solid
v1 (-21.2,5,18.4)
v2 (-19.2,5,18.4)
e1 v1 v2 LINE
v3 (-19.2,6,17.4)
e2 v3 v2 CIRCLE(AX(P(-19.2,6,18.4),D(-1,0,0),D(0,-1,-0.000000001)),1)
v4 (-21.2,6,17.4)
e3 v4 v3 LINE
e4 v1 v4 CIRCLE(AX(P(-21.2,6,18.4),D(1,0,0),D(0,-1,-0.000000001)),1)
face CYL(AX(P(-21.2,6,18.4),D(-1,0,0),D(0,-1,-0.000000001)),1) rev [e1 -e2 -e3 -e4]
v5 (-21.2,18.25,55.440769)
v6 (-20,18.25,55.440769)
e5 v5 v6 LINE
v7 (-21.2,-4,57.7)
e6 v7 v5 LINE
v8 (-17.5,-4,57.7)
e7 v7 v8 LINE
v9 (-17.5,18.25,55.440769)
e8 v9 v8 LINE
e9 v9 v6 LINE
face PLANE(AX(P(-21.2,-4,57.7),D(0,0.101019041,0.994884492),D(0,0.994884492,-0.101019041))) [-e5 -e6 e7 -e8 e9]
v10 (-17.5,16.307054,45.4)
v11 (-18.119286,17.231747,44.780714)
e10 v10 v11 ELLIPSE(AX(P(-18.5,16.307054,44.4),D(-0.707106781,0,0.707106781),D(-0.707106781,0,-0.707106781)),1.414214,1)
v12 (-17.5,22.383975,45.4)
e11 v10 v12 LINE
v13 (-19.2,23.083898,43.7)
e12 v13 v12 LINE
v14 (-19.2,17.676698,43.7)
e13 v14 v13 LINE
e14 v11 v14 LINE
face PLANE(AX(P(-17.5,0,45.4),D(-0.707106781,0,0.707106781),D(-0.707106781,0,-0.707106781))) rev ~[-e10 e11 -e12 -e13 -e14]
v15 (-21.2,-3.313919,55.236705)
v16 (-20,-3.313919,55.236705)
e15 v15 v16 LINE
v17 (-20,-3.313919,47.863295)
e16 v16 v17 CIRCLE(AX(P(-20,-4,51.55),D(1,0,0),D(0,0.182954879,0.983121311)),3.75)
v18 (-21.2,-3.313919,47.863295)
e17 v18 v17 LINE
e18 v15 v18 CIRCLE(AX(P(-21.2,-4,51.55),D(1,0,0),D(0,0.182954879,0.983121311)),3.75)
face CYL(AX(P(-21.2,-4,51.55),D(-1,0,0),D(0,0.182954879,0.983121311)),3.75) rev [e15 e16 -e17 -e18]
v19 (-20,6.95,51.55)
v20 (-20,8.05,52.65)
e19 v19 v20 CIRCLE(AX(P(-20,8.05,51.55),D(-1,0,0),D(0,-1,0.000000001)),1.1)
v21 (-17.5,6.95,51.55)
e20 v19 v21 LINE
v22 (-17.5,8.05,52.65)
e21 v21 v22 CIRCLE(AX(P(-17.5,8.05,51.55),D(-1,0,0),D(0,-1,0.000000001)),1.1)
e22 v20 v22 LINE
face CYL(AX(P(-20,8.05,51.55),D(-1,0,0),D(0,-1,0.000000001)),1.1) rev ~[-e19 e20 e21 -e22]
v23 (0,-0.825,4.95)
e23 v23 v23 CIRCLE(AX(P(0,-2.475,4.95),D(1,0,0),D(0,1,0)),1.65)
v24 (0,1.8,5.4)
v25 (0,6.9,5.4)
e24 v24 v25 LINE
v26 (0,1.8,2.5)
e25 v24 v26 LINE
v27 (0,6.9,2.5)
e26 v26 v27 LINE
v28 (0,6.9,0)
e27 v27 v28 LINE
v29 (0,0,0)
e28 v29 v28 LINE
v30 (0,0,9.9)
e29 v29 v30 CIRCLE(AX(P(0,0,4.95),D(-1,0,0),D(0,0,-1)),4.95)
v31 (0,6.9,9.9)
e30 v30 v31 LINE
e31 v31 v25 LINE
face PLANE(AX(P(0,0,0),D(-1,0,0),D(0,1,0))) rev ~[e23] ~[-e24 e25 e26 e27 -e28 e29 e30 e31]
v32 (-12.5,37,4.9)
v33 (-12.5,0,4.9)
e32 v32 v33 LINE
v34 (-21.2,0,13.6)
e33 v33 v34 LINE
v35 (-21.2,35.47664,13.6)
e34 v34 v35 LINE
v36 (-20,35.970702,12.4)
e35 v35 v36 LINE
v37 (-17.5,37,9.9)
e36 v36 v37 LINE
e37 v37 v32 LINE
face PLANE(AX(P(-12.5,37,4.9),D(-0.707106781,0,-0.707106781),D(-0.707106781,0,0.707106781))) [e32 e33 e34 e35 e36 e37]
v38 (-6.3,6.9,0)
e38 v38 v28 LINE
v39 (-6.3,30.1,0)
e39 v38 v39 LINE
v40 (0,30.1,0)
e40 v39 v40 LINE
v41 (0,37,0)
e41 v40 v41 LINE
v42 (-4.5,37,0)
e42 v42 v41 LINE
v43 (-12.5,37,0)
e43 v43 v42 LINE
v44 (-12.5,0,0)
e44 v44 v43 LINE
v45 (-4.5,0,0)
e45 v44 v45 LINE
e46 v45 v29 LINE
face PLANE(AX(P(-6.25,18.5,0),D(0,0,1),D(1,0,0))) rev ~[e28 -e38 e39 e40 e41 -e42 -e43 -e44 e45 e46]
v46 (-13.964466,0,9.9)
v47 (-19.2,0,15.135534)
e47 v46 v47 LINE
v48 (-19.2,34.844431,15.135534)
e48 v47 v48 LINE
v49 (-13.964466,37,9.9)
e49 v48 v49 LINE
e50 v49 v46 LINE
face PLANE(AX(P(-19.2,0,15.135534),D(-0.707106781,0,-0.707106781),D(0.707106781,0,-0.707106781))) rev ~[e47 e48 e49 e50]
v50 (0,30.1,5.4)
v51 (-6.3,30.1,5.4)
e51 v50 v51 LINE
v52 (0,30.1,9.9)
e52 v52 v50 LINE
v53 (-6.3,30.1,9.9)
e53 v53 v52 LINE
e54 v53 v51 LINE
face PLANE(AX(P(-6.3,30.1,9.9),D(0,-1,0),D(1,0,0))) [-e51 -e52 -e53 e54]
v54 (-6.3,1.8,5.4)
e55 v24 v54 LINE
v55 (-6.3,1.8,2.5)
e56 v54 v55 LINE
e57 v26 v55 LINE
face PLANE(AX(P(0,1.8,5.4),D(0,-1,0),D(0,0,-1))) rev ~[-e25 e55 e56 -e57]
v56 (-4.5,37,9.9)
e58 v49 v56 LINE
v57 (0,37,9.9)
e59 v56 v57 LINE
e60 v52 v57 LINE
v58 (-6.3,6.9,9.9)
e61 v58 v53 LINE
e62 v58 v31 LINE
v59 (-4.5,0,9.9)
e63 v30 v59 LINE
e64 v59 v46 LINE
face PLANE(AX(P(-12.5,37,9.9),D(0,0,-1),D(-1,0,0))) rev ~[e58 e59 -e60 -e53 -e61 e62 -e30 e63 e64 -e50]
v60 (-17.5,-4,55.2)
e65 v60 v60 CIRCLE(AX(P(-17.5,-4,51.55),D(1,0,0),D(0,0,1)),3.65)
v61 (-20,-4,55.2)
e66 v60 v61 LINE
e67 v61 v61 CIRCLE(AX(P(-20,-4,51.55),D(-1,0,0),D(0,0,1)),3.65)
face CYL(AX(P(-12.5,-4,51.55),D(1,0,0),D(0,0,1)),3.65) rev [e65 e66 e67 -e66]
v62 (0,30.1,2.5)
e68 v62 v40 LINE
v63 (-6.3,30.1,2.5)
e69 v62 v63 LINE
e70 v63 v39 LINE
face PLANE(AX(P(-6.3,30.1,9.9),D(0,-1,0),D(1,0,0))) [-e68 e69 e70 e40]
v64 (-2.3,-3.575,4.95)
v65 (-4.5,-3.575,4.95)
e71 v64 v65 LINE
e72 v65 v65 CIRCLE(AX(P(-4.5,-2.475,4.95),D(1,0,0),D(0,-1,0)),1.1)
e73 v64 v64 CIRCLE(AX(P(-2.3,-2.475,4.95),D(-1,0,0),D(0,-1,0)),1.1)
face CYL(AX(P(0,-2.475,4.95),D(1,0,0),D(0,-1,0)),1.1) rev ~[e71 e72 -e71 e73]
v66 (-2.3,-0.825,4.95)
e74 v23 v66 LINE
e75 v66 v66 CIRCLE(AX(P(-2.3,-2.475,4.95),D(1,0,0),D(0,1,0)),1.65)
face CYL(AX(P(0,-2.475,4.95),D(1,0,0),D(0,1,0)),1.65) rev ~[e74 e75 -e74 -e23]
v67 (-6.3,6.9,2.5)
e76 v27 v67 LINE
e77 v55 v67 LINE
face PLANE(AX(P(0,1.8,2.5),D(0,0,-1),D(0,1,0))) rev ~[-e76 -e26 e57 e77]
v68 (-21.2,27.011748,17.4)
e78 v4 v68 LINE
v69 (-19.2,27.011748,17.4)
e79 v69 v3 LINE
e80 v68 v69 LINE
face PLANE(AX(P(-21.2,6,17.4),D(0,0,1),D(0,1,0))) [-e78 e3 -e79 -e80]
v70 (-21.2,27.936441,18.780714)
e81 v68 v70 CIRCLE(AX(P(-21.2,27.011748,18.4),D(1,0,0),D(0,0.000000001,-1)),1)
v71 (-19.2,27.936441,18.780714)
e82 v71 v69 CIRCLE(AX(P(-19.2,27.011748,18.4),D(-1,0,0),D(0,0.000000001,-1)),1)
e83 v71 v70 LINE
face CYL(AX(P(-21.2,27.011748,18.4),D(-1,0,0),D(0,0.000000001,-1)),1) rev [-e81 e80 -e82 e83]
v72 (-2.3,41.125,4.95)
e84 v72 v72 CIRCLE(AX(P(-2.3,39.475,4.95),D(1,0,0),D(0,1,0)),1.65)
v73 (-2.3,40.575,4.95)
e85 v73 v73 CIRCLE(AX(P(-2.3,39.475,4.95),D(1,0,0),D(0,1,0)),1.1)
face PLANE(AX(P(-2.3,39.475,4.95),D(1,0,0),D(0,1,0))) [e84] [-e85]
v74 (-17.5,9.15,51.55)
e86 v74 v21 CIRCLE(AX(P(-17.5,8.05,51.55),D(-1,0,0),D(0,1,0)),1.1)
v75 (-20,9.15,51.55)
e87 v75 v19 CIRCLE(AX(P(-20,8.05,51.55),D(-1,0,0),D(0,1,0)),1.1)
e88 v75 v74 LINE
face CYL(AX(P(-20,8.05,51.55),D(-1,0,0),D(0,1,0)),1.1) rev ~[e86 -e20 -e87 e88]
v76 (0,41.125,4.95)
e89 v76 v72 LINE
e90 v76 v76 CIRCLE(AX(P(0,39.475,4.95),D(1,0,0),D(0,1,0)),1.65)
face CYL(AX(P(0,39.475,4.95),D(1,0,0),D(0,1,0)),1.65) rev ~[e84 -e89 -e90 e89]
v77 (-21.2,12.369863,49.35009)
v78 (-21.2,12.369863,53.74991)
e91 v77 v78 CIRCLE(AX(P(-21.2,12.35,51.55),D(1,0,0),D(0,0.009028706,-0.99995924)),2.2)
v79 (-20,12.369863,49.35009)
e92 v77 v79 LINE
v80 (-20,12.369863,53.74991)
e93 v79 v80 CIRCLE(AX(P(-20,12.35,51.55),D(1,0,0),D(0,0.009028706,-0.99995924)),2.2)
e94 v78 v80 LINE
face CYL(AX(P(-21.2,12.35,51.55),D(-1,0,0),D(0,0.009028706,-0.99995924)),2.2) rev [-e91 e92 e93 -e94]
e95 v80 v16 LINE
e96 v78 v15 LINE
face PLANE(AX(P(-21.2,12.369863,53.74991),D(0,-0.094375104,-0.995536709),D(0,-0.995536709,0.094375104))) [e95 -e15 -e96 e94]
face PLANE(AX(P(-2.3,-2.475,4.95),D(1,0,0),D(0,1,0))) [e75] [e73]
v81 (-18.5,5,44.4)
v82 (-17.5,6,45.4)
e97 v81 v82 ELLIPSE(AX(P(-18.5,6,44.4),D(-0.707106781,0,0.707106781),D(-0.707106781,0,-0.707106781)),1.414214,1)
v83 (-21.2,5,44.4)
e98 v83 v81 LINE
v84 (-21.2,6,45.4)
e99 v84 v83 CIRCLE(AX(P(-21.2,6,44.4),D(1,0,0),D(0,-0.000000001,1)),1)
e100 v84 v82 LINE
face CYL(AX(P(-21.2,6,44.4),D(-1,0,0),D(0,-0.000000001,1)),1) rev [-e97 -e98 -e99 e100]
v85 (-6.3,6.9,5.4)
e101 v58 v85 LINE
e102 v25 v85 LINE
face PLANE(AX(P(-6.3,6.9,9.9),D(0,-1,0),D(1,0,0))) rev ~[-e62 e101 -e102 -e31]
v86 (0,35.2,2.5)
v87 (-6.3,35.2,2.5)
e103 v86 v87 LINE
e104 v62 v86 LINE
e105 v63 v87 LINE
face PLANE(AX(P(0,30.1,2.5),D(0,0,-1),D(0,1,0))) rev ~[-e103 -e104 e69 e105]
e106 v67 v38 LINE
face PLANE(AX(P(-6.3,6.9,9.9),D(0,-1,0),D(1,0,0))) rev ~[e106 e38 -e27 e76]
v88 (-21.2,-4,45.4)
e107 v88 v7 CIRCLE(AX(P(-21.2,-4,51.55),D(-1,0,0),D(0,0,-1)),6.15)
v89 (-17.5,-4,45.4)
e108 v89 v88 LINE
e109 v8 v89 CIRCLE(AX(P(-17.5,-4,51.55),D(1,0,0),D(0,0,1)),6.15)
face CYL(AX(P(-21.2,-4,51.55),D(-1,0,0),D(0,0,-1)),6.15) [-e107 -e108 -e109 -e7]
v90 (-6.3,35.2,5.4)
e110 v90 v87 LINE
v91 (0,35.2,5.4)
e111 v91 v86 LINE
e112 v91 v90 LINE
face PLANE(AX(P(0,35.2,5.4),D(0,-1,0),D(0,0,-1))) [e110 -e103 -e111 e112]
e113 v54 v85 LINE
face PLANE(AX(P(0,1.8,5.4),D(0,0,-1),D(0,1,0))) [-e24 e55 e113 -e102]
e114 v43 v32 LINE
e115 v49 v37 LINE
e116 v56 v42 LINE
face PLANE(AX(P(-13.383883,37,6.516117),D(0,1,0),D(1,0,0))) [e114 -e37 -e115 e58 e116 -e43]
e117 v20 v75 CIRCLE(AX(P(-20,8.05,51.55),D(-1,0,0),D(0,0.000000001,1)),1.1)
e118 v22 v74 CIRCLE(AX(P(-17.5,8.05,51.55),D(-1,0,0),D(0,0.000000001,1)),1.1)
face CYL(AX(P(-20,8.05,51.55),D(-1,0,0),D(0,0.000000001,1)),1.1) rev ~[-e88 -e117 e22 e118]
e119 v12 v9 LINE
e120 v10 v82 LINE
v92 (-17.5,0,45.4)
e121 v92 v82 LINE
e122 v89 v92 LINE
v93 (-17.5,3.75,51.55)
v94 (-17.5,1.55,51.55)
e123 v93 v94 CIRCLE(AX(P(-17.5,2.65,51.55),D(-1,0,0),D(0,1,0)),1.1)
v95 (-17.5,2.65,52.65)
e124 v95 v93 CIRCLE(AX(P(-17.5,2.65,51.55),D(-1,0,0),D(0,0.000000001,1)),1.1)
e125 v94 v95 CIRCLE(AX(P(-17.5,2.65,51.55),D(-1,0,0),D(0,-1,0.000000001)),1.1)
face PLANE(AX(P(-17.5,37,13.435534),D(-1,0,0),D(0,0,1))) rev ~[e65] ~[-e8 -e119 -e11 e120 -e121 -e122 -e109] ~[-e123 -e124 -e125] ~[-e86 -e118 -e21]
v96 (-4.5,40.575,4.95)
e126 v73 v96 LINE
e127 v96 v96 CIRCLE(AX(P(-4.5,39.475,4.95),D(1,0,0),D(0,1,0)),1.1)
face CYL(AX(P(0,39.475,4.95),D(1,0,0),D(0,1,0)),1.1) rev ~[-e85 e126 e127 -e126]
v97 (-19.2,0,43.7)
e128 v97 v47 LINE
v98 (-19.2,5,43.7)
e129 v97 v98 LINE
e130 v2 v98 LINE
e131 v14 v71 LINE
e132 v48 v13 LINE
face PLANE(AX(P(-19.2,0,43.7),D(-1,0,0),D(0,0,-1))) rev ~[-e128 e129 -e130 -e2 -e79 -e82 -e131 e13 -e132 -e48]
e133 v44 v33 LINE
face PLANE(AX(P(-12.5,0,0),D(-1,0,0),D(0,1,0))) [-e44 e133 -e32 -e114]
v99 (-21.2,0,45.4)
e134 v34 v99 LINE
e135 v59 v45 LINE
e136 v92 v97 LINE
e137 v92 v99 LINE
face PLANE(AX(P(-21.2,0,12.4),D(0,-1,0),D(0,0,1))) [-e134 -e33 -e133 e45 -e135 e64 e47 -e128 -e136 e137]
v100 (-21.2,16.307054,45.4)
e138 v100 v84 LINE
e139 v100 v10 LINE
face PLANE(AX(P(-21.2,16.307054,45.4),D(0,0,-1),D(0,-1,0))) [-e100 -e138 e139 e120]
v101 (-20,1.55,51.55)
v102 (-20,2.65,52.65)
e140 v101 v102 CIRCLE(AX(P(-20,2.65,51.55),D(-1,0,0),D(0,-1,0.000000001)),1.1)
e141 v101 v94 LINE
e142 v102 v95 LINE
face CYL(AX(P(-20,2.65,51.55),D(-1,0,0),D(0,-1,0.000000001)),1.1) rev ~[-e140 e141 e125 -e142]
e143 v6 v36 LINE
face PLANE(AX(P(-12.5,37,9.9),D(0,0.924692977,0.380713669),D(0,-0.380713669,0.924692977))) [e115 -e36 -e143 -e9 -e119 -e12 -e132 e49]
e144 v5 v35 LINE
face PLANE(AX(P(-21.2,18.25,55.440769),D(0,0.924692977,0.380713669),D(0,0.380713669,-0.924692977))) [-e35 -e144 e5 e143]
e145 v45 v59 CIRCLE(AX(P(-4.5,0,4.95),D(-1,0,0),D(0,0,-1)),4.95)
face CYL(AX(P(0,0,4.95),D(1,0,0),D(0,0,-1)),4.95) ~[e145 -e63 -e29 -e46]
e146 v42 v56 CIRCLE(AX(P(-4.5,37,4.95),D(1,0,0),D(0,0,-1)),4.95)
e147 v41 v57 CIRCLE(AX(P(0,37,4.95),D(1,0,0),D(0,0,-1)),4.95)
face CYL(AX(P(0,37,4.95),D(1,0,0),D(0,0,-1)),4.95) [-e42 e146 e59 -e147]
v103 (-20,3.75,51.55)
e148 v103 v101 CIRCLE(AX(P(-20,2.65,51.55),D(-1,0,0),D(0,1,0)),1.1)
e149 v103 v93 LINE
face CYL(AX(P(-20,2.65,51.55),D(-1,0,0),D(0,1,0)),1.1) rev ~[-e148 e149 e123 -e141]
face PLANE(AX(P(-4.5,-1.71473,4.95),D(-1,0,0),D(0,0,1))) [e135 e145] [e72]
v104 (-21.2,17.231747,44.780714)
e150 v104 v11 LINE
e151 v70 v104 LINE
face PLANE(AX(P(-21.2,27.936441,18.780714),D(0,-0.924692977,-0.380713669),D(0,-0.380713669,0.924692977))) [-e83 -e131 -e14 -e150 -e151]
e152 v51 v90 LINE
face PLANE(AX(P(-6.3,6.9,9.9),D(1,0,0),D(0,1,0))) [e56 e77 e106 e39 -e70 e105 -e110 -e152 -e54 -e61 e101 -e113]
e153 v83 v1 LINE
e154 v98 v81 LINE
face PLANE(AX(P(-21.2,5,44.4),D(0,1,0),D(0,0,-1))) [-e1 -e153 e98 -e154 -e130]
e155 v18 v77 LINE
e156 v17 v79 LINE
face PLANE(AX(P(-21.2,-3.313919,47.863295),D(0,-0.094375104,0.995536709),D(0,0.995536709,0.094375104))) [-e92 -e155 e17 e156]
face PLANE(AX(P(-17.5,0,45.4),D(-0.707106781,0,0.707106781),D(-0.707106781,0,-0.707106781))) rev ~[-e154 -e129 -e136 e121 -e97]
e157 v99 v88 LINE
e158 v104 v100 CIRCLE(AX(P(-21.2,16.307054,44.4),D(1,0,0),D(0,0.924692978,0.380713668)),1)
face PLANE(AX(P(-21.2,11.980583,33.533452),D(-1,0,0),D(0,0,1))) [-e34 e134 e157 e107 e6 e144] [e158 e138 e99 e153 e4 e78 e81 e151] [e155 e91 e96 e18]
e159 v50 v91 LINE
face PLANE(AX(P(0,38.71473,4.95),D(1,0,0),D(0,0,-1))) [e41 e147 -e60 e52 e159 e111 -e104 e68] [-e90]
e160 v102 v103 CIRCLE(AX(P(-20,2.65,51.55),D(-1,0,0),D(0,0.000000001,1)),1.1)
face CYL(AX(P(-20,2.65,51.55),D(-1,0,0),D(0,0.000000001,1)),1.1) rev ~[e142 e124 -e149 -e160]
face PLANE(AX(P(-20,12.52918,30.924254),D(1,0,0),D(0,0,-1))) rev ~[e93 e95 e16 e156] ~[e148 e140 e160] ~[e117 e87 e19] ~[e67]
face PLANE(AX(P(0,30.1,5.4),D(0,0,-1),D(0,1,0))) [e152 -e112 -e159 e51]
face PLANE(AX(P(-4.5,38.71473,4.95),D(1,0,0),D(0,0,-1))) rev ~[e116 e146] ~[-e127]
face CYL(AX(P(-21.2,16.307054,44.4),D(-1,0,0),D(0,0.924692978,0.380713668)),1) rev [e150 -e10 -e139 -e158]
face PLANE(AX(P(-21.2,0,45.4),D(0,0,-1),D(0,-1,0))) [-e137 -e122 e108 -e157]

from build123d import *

# Parameters (mm, degrees)
SZKIC1_W                    = 12.5
SZKIC1_H                    = 37
DODANIE_WYCI_GNI_CIE1_DEPTH = 9.9
SZKIC2_W                    = 6.3
SZKIC2_H                    = 23.2
WYTNIJ_WYCI_GNI_CIE1_DEPTH  = 9.9
SZKIC3_R                    = 2
SZKIC3_R_2                  = 3.65
DODANIE_WYCI_GNI_CIE2_DEPTH = 7.5
WYTNIJ_WYCI_GNI_CIE2_DEPTH  = 78.151879433
WYTNIJ_WYCI_GNI_CIE3_DEPTH  = 72.402310887
ESQUISSE2_W                 = 2.9
ESQUISSE2_H                 = 5.1
ENL_V_MAT_EXTRU_1_DEPTH     = 6.3
BOSS_EXTRU_2_START          = -2.5
ESQUISSE5_R                 = 3.65
BOSS_EXTRU_2_DEPTH          = 2.5
BOSS_EXTRU_3_DEPTH          = 37
ESQUISSE7_R                 = 1.1
BOSS_EXTRU_4_DEPTH          = 4.5
ESQUISSE8_R                 = 1.65
ESQUISSE8_R_2               = 1.1
ENL_V_MAT_EXTRU_2_DEPTH     = 2.3
BOSS_EXTRU_7_START          = 1.2
BOSS_EXTRU_7_DEPTH          = 1.2
ENL_V_MAT_EXTRU_3_DEPTH     = 75.421317511
ENL_V_MAT_EXTRU_4_DEPTH     = 75.088410025


with BuildPart() as part:
    # Szkic1 → Dodanie-wyciągnięcie1 (new body)
    with BuildSketch(Plane.XY):
        with Locations((-6.25, 18.5)):
            Rectangle(SZKIC1_W, SZKIC1_H)
    extrude(amount=DODANIE_WYCI_GNI_CIE1_DEPTH)

    # Szkic2 → Wytnij-wyciągnięcie1 (cut)
    with BuildSketch(Plane.XY.offset(9.9)):
        with Locations((-3.15, 18.5)):
            Rectangle(SZKIC2_W, SZKIC2_H)
    extrude(amount=-WYTNIJ_WYCI_GNI_CIE1_DEPTH, mode=Mode.SUBTRACT)

    # Szkic3 → Dodanie-wyciągnięcie2 (add)
    with BuildSketch(Plane.ZY.offset(12.5)):
        with BuildLine():
            Line((55.440769231, 18.25), (57.7, -4))
            ThreePointArc((57.7, -4), (51.55, -10.15), (45.4, -4))
            Line((45.4, -4), (45.4, 0))
            Line((45.4, 0), (7.4, 0))
            Line((7.4, 0), (7.4, 37))
            Line((7.4, 37), (9.9, 37))
            Line((9.9, 37), (55.440769231, 18.25))
        make_face()
        with Locations((51.55, 12.25)):
            Circle(SZKIC3_R, mode=Mode.SUBTRACT)
        with Locations((51.55, -4)):
            Circle(SZKIC3_R_2, mode=Mode.SUBTRACT)
    extrude(amount=DODANIE_WYCI_GNI_CIE2_DEPTH)

    # Szkic4 → Wytnij-wyciągnięcie2 (cut, through all)
    with BuildSketch(Plane(origin=(0, 37, 0), x_dir=(1, 0, 0), z_dir=(0, 1, 0))):
        Polygon((-17.5, -9.9), (-15, -7.4), (-20, -7.4), (-20, -9.9), align=None)
        Polygon((-20, -12.4), (-17.5, -9.9), (-20, -9.9), align=None)
        Polygon((-12.5, -9.9), (-13.964466094, -9.9), (-17.5, -13.435533906), (-17.5, -57.7), (-12.5, -57.7), (-12.5, -55.440769231), align=None)
    extrude(amount=-WYTNIJ_WYCI_GNI_CIE2_DEPTH, mode=Mode.SUBTRACT)

    # Szkic5 → Wytnij-wyciągnięcie3 (cut, through all)
    with BuildSketch(Plane.ZY.offset(20)):
        with BuildLine():
            Line((45.4, 16.307054303), (45.4, 6))
            ThreePointArc((45.4, 6), (45.107106781, 5.292893219), (44.4, 5))
            Line((44.4, 5), (18.4, 5))
            ThreePointArc((18.4, 5), (17.692893219, 5.292893219), (17.4, 6))
            Line((17.4, 6), (17.4, 27.011748322))
            ThreePointArc((17.4, 27.011748322), (17.843544103, 27.842625469), (18.780713669, 27.936441299))
            Line((18.780713669, 27.936441299), (44.780713669, 17.23174728))
            ThreePointArc((44.780713669, 17.23174728), (45.230877148, 16.8635102), (45.4, 16.307054303))
        make_face()
    extrude(amount=-WYTNIJ_WYCI_GNI_CIE3_DEPTH, mode=Mode.SUBTRACT)

    # Esquisse2 → Enlèv. mat.-Extru.1 (cut)
    with BuildSketch(Plane(origin=(0, 0, 0), x_dir=(0, 0, -1), z_dir=(1, 0, 0))):
        with Locations((-3.95, 32.65)):
            Rectangle(ESQUISSE2_W, ESQUISSE2_H)
        with Locations((-3.95, 4.35)):
            Rectangle(ESQUISSE2_W, ESQUISSE2_H)
    extrude(amount=-ENL_V_MAT_EXTRU_1_DEPTH, mode=Mode.SUBTRACT)

    # Esquisse5 → Boss.-Extru.2 (add)
    with BuildSketch(Plane(origin=(-17.5, 0, 0), x_dir=(0, 0, -1), z_dir=(1, 0, 0)).offset(BOSS_EXTRU_2_START)):
        with BuildLine():
            Line((-13.435533906, 0), (-13.435533906, 35.544353513))
            Line((-13.435533906, 35.544353513), (-55.440769231, 18.25))
            Line((-55.440769231, 18.25), (-57.7, -4))
            ThreePointArc((-57.7, -4), (-51.55, -10.15), (-45.4, -4))
            Line((-45.4, -4), (-45.4, 0))
            Line((-45.4, 0), (-13.435533906, 0))
        make_face()
        with Locations(Location((-51.55, -4, 0), (0, 0, 180))):
            Circle(ESQUISSE5_R, mode=Mode.SUBTRACT)
        with BuildLine():
            Line((-17.4, 6), (-17.4, 27.011748322))
            ThreePointArc((-17.4, 27.011748322), (-17.843544103, 27.842625469), (-18.780713669, 27.936441299))
            Line((-18.780713669, 27.936441299), (-44.780713669, 17.23174728))
            ThreePointArc((-44.780713669, 17.23174728), (-45.230877148, 16.8635102), (-45.4, 16.307054303))
            Line((-45.4, 16.307054303), (-45.4, 6))
            ThreePointArc((-45.4, 6), (-45.107106781, 5.292893219), (-44.4, 5))
            Line((-44.4, 5), (-18.4, 5))
            ThreePointArc((-18.4, 5), (-17.692893219, 5.292893219), (-17.4, 6))
        make_face(mode=Mode.SUBTRACT)
    extrude(amount=BOSS_EXTRU_2_DEPTH)

    # Esquisse6 → Boss.-Extru.3 (add)
    with BuildSketch(Plane(origin=(0, 37, 0), x_dir=(1, 0, 0), z_dir=(0, 1, 0))):
        Polygon((-12.5, -4.9), (-15, -7.4), (-12.5, -7.4), align=None)
    extrude(amount=-BOSS_EXTRU_3_DEPTH)

    # Esquisse7 → Boss.-Extru.4 (add)
    # profile 1 of 2: a face of its own
    with BuildSketch(Plane(origin=(0, 0, 0), x_dir=(0, 0, -1), z_dir=(1, 0, 0))):
        with BuildLine():
            Line((-9.9, 37), (0, 37))
            ThreePointArc((0, 37), (-4.95, 41.95), (-9.9, 37))
        make_face()
        with Locations(Location((-4.95, 39.475, 0), (0, 0, 90))):
            Circle(ESQUISSE7_R, mode=Mode.SUBTRACT)
    # profile 2 of 2: a face of its own
    with BuildSketch(Plane(origin=(0, 0, 0), x_dir=(0, 0, -1), z_dir=(1, 0, 0))):
        with BuildLine():
            Line((-9.9, 0), (0, 0))
            ThreePointArc((0, 0), (-4.95, -4.95), (-9.9, 0))
        make_face()
        with Locations(Location((-4.95, -2.475, 0), (0, 0, 270))):
            Circle(ESQUISSE7_R, mode=Mode.SUBTRACT)
    extrude(amount=-BOSS_EXTRU_4_DEPTH)

    # Esquisse8 → Enlèv. mat.-Extru.2 (cut)
    # profile 1 of 2: a face of its own
    with BuildSketch(Plane(origin=(0, 0, 0), x_dir=(0, 0, -1), z_dir=(1, 0, 0))):
        with Locations(Location((-4.95, 39.475, 0), (0, 0, 90))):
            Circle(ESQUISSE8_R)
        with Locations(Location((-4.95, 39.475, 0), (0, 0, 90))):
            Circle(ESQUISSE8_R_2, mode=Mode.SUBTRACT)
    # profile 2 of 2: a face of its own
    with BuildSketch(Plane(origin=(0, 0, 0), x_dir=(0, 0, -1), z_dir=(1, 0, 0))):
        with Locations(Location((-4.95, -2.475, 0), (0, 0, 90))):
            Circle(ESQUISSE8_R)
        with Locations(Location((-4.95, -2.475, 0), (0, 0, 90))):
            Circle(ESQUISSE8_R_2, mode=Mode.SUBTRACT)
    extrude(amount=-ENL_V_MAT_EXTRU_2_DEPTH, mode=Mode.SUBTRACT)

    # Esquisse9 → Boss.-Extru.7 (add)
    with BuildSketch(Plane.ZY.offset(20).offset(BOSS_EXTRU_7_START)):
        with BuildLine():
            Line((12.4, 35.970702498), (12.4, 0))
            Line((12.4, 0), (45.4, 0))
            Line((45.4, 0), (45.4, -4))
            ThreePointArc((45.4, -4), (51.55, -10.15), (57.7, -4))
            Line((57.7, -4), (55.440769231, 18.25))
            Line((55.440769231, 18.25), (12.4, 35.970702498))
        make_face()
        with BuildLine():
            Line((47.863295083, -3.313919205), (49.350089671, 12.369863153))
            ThreePointArc((49.350089671, 12.369863153), (51.55, 14.55), (53.749910329, 12.369863153))
            Line((53.749910329, 12.369863153), (55.236704917, -3.313919205))
            ThreePointArc((55.236704917, -3.313919205), (51.55, -7.75), (47.863295083, -3.313919205))
        make_face(mode=Mode.SUBTRACT)
        with BuildLine():
            Line((18.780713669, 27.936441299), (44.780713669, 17.23174728))
            ThreePointArc((44.780713669, 17.23174728), (45.230877148, 16.8635102), (45.4, 16.307054303))
            Line((45.4, 16.307054303), (45.4, 6))
            ThreePointArc((45.4, 6), (45.107106781, 5.292893219), (44.4, 5))
            Line((44.4, 5), (18.4, 5))
            ThreePointArc((18.4, 5), (17.692893219, 5.292893219), (17.4, 6))
            Line((17.4, 6), (17.4, 27.011748322))
            ThreePointArc((17.4, 27.011748322), (17.843544103, 27.842625469), (18.780713669, 27.936441299))
        make_face(mode=Mode.SUBTRACT)
    extrude(amount=-BOSS_EXTRU_7_DEPTH)

    # Esquisse10 → Enlèv. mat.-Extru.3 (cut, through all)
    with BuildSketch(Plane.XZ):
        Polygon((-19.2, 43.7), (-19.2, 15.135533906), (-17.5, 13.435533906), (-17.5, 45.4), align=None)
        Polygon((-21.2, 12.4), (-20, 12.4), (-21.2, 13.6), align=None)
    extrude(amount=-ENL_V_MAT_EXTRU_3_DEPTH, mode=Mode.SUBTRACT)

    # Esquisse11 → Enlèv. mat.-Extru.4 (cut, through all)
    with BuildSketch(Plane.ZY.offset(20)):
        with BuildLine():
            ThreePointArc((52.05, 8.05), (51.903553391, 8.403553391), (51.55, 8.55))
            Line((51.55, 8.55), (51.55, 7.55))
            ThreePointArc((51.55, 7.55), (51.903553391, 7.696446609), (52.05, 8.05))
        make_face()
        with BuildLine():
            Line((51.55, 7.55), (51.55, 8.55))
            ThreePointArc((51.55, 8.55), (51.05, 8.05), (51.55, 7.55))
        make_face()
        with BuildLine():
            ThreePointArc((52.65, 8.05), (52.327817459, 8.827817459), (51.55, 9.15))
            Line((51.55, 9.15), (51.55, 8.55))
            ThreePointArc((51.55, 8.55), (51.903553391, 8.403553391), (52.05, 8.05))
            ThreePointArc((52.05, 8.05), (51.903553391, 7.696446609), (51.55, 7.55))
            Line((51.55, 7.55), (51.55, 6.95))
            ThreePointArc((51.55, 6.95), (52.327817459, 7.272182541), (52.65, 8.05))
        make_face()
        with BuildLine():
            Line((51.55, 8.55), (51.55, 9.15))
            ThreePointArc((51.55, 9.15), (50.45, 8.05), (51.55, 6.95))
            Line((51.55, 6.95), (51.55, 7.55))
            ThreePointArc((51.55, 7.55), (51.05, 8.05), (51.55, 8.55))
        make_face()
        with BuildLine():
            ThreePointArc((51.55, 3.75), (50.45, 2.65), (51.55, 1.55))
            Line((51.55, 1.55), (51.55, 2.15))
            ThreePointArc((51.55, 2.15), (51.05, 2.65), (51.55, 3.15))
            Line((51.55, 3.15), (51.55, 3.75))
        make_face()
        with BuildLine():
            Line((51.55, 2.15), (51.55, 1.55))
            ThreePointArc((51.55, 1.55), (52.327817459, 1.872182541), (52.65, 2.65))
            ThreePointArc((52.65, 2.65), (52.327817459, 3.427817459), (51.55, 3.75))
            Line((51.55, 3.75), (51.55, 3.15))
            ThreePointArc((51.55, 3.15), (51.903553391, 3.003553391), (52.05, 2.65))
            ThreePointArc((52.05, 2.65), (51.903553391, 2.296446609), (51.55, 2.15))
        make_face()
        with BuildLine():
            ThreePointArc((51.55, 3.15), (51.05, 2.65), (51.55, 2.15))
            Line((51.55, 2.15), (51.55, 3.15))
        make_face()
        with BuildLine():
            Line((51.55, 3.15), (51.55, 2.15))
            ThreePointArc((51.55, 2.15), (51.903553391, 2.296446609), (52.05, 2.65))
            ThreePointArc((52.05, 2.65), (51.903553391, 3.003553391), (51.55, 3.15))
        make_face()
    extrude(amount=-ENL_V_MAT_EXTRU_4_DEPTH, mode=Mode.SUBTRACT)


solid = part.part
